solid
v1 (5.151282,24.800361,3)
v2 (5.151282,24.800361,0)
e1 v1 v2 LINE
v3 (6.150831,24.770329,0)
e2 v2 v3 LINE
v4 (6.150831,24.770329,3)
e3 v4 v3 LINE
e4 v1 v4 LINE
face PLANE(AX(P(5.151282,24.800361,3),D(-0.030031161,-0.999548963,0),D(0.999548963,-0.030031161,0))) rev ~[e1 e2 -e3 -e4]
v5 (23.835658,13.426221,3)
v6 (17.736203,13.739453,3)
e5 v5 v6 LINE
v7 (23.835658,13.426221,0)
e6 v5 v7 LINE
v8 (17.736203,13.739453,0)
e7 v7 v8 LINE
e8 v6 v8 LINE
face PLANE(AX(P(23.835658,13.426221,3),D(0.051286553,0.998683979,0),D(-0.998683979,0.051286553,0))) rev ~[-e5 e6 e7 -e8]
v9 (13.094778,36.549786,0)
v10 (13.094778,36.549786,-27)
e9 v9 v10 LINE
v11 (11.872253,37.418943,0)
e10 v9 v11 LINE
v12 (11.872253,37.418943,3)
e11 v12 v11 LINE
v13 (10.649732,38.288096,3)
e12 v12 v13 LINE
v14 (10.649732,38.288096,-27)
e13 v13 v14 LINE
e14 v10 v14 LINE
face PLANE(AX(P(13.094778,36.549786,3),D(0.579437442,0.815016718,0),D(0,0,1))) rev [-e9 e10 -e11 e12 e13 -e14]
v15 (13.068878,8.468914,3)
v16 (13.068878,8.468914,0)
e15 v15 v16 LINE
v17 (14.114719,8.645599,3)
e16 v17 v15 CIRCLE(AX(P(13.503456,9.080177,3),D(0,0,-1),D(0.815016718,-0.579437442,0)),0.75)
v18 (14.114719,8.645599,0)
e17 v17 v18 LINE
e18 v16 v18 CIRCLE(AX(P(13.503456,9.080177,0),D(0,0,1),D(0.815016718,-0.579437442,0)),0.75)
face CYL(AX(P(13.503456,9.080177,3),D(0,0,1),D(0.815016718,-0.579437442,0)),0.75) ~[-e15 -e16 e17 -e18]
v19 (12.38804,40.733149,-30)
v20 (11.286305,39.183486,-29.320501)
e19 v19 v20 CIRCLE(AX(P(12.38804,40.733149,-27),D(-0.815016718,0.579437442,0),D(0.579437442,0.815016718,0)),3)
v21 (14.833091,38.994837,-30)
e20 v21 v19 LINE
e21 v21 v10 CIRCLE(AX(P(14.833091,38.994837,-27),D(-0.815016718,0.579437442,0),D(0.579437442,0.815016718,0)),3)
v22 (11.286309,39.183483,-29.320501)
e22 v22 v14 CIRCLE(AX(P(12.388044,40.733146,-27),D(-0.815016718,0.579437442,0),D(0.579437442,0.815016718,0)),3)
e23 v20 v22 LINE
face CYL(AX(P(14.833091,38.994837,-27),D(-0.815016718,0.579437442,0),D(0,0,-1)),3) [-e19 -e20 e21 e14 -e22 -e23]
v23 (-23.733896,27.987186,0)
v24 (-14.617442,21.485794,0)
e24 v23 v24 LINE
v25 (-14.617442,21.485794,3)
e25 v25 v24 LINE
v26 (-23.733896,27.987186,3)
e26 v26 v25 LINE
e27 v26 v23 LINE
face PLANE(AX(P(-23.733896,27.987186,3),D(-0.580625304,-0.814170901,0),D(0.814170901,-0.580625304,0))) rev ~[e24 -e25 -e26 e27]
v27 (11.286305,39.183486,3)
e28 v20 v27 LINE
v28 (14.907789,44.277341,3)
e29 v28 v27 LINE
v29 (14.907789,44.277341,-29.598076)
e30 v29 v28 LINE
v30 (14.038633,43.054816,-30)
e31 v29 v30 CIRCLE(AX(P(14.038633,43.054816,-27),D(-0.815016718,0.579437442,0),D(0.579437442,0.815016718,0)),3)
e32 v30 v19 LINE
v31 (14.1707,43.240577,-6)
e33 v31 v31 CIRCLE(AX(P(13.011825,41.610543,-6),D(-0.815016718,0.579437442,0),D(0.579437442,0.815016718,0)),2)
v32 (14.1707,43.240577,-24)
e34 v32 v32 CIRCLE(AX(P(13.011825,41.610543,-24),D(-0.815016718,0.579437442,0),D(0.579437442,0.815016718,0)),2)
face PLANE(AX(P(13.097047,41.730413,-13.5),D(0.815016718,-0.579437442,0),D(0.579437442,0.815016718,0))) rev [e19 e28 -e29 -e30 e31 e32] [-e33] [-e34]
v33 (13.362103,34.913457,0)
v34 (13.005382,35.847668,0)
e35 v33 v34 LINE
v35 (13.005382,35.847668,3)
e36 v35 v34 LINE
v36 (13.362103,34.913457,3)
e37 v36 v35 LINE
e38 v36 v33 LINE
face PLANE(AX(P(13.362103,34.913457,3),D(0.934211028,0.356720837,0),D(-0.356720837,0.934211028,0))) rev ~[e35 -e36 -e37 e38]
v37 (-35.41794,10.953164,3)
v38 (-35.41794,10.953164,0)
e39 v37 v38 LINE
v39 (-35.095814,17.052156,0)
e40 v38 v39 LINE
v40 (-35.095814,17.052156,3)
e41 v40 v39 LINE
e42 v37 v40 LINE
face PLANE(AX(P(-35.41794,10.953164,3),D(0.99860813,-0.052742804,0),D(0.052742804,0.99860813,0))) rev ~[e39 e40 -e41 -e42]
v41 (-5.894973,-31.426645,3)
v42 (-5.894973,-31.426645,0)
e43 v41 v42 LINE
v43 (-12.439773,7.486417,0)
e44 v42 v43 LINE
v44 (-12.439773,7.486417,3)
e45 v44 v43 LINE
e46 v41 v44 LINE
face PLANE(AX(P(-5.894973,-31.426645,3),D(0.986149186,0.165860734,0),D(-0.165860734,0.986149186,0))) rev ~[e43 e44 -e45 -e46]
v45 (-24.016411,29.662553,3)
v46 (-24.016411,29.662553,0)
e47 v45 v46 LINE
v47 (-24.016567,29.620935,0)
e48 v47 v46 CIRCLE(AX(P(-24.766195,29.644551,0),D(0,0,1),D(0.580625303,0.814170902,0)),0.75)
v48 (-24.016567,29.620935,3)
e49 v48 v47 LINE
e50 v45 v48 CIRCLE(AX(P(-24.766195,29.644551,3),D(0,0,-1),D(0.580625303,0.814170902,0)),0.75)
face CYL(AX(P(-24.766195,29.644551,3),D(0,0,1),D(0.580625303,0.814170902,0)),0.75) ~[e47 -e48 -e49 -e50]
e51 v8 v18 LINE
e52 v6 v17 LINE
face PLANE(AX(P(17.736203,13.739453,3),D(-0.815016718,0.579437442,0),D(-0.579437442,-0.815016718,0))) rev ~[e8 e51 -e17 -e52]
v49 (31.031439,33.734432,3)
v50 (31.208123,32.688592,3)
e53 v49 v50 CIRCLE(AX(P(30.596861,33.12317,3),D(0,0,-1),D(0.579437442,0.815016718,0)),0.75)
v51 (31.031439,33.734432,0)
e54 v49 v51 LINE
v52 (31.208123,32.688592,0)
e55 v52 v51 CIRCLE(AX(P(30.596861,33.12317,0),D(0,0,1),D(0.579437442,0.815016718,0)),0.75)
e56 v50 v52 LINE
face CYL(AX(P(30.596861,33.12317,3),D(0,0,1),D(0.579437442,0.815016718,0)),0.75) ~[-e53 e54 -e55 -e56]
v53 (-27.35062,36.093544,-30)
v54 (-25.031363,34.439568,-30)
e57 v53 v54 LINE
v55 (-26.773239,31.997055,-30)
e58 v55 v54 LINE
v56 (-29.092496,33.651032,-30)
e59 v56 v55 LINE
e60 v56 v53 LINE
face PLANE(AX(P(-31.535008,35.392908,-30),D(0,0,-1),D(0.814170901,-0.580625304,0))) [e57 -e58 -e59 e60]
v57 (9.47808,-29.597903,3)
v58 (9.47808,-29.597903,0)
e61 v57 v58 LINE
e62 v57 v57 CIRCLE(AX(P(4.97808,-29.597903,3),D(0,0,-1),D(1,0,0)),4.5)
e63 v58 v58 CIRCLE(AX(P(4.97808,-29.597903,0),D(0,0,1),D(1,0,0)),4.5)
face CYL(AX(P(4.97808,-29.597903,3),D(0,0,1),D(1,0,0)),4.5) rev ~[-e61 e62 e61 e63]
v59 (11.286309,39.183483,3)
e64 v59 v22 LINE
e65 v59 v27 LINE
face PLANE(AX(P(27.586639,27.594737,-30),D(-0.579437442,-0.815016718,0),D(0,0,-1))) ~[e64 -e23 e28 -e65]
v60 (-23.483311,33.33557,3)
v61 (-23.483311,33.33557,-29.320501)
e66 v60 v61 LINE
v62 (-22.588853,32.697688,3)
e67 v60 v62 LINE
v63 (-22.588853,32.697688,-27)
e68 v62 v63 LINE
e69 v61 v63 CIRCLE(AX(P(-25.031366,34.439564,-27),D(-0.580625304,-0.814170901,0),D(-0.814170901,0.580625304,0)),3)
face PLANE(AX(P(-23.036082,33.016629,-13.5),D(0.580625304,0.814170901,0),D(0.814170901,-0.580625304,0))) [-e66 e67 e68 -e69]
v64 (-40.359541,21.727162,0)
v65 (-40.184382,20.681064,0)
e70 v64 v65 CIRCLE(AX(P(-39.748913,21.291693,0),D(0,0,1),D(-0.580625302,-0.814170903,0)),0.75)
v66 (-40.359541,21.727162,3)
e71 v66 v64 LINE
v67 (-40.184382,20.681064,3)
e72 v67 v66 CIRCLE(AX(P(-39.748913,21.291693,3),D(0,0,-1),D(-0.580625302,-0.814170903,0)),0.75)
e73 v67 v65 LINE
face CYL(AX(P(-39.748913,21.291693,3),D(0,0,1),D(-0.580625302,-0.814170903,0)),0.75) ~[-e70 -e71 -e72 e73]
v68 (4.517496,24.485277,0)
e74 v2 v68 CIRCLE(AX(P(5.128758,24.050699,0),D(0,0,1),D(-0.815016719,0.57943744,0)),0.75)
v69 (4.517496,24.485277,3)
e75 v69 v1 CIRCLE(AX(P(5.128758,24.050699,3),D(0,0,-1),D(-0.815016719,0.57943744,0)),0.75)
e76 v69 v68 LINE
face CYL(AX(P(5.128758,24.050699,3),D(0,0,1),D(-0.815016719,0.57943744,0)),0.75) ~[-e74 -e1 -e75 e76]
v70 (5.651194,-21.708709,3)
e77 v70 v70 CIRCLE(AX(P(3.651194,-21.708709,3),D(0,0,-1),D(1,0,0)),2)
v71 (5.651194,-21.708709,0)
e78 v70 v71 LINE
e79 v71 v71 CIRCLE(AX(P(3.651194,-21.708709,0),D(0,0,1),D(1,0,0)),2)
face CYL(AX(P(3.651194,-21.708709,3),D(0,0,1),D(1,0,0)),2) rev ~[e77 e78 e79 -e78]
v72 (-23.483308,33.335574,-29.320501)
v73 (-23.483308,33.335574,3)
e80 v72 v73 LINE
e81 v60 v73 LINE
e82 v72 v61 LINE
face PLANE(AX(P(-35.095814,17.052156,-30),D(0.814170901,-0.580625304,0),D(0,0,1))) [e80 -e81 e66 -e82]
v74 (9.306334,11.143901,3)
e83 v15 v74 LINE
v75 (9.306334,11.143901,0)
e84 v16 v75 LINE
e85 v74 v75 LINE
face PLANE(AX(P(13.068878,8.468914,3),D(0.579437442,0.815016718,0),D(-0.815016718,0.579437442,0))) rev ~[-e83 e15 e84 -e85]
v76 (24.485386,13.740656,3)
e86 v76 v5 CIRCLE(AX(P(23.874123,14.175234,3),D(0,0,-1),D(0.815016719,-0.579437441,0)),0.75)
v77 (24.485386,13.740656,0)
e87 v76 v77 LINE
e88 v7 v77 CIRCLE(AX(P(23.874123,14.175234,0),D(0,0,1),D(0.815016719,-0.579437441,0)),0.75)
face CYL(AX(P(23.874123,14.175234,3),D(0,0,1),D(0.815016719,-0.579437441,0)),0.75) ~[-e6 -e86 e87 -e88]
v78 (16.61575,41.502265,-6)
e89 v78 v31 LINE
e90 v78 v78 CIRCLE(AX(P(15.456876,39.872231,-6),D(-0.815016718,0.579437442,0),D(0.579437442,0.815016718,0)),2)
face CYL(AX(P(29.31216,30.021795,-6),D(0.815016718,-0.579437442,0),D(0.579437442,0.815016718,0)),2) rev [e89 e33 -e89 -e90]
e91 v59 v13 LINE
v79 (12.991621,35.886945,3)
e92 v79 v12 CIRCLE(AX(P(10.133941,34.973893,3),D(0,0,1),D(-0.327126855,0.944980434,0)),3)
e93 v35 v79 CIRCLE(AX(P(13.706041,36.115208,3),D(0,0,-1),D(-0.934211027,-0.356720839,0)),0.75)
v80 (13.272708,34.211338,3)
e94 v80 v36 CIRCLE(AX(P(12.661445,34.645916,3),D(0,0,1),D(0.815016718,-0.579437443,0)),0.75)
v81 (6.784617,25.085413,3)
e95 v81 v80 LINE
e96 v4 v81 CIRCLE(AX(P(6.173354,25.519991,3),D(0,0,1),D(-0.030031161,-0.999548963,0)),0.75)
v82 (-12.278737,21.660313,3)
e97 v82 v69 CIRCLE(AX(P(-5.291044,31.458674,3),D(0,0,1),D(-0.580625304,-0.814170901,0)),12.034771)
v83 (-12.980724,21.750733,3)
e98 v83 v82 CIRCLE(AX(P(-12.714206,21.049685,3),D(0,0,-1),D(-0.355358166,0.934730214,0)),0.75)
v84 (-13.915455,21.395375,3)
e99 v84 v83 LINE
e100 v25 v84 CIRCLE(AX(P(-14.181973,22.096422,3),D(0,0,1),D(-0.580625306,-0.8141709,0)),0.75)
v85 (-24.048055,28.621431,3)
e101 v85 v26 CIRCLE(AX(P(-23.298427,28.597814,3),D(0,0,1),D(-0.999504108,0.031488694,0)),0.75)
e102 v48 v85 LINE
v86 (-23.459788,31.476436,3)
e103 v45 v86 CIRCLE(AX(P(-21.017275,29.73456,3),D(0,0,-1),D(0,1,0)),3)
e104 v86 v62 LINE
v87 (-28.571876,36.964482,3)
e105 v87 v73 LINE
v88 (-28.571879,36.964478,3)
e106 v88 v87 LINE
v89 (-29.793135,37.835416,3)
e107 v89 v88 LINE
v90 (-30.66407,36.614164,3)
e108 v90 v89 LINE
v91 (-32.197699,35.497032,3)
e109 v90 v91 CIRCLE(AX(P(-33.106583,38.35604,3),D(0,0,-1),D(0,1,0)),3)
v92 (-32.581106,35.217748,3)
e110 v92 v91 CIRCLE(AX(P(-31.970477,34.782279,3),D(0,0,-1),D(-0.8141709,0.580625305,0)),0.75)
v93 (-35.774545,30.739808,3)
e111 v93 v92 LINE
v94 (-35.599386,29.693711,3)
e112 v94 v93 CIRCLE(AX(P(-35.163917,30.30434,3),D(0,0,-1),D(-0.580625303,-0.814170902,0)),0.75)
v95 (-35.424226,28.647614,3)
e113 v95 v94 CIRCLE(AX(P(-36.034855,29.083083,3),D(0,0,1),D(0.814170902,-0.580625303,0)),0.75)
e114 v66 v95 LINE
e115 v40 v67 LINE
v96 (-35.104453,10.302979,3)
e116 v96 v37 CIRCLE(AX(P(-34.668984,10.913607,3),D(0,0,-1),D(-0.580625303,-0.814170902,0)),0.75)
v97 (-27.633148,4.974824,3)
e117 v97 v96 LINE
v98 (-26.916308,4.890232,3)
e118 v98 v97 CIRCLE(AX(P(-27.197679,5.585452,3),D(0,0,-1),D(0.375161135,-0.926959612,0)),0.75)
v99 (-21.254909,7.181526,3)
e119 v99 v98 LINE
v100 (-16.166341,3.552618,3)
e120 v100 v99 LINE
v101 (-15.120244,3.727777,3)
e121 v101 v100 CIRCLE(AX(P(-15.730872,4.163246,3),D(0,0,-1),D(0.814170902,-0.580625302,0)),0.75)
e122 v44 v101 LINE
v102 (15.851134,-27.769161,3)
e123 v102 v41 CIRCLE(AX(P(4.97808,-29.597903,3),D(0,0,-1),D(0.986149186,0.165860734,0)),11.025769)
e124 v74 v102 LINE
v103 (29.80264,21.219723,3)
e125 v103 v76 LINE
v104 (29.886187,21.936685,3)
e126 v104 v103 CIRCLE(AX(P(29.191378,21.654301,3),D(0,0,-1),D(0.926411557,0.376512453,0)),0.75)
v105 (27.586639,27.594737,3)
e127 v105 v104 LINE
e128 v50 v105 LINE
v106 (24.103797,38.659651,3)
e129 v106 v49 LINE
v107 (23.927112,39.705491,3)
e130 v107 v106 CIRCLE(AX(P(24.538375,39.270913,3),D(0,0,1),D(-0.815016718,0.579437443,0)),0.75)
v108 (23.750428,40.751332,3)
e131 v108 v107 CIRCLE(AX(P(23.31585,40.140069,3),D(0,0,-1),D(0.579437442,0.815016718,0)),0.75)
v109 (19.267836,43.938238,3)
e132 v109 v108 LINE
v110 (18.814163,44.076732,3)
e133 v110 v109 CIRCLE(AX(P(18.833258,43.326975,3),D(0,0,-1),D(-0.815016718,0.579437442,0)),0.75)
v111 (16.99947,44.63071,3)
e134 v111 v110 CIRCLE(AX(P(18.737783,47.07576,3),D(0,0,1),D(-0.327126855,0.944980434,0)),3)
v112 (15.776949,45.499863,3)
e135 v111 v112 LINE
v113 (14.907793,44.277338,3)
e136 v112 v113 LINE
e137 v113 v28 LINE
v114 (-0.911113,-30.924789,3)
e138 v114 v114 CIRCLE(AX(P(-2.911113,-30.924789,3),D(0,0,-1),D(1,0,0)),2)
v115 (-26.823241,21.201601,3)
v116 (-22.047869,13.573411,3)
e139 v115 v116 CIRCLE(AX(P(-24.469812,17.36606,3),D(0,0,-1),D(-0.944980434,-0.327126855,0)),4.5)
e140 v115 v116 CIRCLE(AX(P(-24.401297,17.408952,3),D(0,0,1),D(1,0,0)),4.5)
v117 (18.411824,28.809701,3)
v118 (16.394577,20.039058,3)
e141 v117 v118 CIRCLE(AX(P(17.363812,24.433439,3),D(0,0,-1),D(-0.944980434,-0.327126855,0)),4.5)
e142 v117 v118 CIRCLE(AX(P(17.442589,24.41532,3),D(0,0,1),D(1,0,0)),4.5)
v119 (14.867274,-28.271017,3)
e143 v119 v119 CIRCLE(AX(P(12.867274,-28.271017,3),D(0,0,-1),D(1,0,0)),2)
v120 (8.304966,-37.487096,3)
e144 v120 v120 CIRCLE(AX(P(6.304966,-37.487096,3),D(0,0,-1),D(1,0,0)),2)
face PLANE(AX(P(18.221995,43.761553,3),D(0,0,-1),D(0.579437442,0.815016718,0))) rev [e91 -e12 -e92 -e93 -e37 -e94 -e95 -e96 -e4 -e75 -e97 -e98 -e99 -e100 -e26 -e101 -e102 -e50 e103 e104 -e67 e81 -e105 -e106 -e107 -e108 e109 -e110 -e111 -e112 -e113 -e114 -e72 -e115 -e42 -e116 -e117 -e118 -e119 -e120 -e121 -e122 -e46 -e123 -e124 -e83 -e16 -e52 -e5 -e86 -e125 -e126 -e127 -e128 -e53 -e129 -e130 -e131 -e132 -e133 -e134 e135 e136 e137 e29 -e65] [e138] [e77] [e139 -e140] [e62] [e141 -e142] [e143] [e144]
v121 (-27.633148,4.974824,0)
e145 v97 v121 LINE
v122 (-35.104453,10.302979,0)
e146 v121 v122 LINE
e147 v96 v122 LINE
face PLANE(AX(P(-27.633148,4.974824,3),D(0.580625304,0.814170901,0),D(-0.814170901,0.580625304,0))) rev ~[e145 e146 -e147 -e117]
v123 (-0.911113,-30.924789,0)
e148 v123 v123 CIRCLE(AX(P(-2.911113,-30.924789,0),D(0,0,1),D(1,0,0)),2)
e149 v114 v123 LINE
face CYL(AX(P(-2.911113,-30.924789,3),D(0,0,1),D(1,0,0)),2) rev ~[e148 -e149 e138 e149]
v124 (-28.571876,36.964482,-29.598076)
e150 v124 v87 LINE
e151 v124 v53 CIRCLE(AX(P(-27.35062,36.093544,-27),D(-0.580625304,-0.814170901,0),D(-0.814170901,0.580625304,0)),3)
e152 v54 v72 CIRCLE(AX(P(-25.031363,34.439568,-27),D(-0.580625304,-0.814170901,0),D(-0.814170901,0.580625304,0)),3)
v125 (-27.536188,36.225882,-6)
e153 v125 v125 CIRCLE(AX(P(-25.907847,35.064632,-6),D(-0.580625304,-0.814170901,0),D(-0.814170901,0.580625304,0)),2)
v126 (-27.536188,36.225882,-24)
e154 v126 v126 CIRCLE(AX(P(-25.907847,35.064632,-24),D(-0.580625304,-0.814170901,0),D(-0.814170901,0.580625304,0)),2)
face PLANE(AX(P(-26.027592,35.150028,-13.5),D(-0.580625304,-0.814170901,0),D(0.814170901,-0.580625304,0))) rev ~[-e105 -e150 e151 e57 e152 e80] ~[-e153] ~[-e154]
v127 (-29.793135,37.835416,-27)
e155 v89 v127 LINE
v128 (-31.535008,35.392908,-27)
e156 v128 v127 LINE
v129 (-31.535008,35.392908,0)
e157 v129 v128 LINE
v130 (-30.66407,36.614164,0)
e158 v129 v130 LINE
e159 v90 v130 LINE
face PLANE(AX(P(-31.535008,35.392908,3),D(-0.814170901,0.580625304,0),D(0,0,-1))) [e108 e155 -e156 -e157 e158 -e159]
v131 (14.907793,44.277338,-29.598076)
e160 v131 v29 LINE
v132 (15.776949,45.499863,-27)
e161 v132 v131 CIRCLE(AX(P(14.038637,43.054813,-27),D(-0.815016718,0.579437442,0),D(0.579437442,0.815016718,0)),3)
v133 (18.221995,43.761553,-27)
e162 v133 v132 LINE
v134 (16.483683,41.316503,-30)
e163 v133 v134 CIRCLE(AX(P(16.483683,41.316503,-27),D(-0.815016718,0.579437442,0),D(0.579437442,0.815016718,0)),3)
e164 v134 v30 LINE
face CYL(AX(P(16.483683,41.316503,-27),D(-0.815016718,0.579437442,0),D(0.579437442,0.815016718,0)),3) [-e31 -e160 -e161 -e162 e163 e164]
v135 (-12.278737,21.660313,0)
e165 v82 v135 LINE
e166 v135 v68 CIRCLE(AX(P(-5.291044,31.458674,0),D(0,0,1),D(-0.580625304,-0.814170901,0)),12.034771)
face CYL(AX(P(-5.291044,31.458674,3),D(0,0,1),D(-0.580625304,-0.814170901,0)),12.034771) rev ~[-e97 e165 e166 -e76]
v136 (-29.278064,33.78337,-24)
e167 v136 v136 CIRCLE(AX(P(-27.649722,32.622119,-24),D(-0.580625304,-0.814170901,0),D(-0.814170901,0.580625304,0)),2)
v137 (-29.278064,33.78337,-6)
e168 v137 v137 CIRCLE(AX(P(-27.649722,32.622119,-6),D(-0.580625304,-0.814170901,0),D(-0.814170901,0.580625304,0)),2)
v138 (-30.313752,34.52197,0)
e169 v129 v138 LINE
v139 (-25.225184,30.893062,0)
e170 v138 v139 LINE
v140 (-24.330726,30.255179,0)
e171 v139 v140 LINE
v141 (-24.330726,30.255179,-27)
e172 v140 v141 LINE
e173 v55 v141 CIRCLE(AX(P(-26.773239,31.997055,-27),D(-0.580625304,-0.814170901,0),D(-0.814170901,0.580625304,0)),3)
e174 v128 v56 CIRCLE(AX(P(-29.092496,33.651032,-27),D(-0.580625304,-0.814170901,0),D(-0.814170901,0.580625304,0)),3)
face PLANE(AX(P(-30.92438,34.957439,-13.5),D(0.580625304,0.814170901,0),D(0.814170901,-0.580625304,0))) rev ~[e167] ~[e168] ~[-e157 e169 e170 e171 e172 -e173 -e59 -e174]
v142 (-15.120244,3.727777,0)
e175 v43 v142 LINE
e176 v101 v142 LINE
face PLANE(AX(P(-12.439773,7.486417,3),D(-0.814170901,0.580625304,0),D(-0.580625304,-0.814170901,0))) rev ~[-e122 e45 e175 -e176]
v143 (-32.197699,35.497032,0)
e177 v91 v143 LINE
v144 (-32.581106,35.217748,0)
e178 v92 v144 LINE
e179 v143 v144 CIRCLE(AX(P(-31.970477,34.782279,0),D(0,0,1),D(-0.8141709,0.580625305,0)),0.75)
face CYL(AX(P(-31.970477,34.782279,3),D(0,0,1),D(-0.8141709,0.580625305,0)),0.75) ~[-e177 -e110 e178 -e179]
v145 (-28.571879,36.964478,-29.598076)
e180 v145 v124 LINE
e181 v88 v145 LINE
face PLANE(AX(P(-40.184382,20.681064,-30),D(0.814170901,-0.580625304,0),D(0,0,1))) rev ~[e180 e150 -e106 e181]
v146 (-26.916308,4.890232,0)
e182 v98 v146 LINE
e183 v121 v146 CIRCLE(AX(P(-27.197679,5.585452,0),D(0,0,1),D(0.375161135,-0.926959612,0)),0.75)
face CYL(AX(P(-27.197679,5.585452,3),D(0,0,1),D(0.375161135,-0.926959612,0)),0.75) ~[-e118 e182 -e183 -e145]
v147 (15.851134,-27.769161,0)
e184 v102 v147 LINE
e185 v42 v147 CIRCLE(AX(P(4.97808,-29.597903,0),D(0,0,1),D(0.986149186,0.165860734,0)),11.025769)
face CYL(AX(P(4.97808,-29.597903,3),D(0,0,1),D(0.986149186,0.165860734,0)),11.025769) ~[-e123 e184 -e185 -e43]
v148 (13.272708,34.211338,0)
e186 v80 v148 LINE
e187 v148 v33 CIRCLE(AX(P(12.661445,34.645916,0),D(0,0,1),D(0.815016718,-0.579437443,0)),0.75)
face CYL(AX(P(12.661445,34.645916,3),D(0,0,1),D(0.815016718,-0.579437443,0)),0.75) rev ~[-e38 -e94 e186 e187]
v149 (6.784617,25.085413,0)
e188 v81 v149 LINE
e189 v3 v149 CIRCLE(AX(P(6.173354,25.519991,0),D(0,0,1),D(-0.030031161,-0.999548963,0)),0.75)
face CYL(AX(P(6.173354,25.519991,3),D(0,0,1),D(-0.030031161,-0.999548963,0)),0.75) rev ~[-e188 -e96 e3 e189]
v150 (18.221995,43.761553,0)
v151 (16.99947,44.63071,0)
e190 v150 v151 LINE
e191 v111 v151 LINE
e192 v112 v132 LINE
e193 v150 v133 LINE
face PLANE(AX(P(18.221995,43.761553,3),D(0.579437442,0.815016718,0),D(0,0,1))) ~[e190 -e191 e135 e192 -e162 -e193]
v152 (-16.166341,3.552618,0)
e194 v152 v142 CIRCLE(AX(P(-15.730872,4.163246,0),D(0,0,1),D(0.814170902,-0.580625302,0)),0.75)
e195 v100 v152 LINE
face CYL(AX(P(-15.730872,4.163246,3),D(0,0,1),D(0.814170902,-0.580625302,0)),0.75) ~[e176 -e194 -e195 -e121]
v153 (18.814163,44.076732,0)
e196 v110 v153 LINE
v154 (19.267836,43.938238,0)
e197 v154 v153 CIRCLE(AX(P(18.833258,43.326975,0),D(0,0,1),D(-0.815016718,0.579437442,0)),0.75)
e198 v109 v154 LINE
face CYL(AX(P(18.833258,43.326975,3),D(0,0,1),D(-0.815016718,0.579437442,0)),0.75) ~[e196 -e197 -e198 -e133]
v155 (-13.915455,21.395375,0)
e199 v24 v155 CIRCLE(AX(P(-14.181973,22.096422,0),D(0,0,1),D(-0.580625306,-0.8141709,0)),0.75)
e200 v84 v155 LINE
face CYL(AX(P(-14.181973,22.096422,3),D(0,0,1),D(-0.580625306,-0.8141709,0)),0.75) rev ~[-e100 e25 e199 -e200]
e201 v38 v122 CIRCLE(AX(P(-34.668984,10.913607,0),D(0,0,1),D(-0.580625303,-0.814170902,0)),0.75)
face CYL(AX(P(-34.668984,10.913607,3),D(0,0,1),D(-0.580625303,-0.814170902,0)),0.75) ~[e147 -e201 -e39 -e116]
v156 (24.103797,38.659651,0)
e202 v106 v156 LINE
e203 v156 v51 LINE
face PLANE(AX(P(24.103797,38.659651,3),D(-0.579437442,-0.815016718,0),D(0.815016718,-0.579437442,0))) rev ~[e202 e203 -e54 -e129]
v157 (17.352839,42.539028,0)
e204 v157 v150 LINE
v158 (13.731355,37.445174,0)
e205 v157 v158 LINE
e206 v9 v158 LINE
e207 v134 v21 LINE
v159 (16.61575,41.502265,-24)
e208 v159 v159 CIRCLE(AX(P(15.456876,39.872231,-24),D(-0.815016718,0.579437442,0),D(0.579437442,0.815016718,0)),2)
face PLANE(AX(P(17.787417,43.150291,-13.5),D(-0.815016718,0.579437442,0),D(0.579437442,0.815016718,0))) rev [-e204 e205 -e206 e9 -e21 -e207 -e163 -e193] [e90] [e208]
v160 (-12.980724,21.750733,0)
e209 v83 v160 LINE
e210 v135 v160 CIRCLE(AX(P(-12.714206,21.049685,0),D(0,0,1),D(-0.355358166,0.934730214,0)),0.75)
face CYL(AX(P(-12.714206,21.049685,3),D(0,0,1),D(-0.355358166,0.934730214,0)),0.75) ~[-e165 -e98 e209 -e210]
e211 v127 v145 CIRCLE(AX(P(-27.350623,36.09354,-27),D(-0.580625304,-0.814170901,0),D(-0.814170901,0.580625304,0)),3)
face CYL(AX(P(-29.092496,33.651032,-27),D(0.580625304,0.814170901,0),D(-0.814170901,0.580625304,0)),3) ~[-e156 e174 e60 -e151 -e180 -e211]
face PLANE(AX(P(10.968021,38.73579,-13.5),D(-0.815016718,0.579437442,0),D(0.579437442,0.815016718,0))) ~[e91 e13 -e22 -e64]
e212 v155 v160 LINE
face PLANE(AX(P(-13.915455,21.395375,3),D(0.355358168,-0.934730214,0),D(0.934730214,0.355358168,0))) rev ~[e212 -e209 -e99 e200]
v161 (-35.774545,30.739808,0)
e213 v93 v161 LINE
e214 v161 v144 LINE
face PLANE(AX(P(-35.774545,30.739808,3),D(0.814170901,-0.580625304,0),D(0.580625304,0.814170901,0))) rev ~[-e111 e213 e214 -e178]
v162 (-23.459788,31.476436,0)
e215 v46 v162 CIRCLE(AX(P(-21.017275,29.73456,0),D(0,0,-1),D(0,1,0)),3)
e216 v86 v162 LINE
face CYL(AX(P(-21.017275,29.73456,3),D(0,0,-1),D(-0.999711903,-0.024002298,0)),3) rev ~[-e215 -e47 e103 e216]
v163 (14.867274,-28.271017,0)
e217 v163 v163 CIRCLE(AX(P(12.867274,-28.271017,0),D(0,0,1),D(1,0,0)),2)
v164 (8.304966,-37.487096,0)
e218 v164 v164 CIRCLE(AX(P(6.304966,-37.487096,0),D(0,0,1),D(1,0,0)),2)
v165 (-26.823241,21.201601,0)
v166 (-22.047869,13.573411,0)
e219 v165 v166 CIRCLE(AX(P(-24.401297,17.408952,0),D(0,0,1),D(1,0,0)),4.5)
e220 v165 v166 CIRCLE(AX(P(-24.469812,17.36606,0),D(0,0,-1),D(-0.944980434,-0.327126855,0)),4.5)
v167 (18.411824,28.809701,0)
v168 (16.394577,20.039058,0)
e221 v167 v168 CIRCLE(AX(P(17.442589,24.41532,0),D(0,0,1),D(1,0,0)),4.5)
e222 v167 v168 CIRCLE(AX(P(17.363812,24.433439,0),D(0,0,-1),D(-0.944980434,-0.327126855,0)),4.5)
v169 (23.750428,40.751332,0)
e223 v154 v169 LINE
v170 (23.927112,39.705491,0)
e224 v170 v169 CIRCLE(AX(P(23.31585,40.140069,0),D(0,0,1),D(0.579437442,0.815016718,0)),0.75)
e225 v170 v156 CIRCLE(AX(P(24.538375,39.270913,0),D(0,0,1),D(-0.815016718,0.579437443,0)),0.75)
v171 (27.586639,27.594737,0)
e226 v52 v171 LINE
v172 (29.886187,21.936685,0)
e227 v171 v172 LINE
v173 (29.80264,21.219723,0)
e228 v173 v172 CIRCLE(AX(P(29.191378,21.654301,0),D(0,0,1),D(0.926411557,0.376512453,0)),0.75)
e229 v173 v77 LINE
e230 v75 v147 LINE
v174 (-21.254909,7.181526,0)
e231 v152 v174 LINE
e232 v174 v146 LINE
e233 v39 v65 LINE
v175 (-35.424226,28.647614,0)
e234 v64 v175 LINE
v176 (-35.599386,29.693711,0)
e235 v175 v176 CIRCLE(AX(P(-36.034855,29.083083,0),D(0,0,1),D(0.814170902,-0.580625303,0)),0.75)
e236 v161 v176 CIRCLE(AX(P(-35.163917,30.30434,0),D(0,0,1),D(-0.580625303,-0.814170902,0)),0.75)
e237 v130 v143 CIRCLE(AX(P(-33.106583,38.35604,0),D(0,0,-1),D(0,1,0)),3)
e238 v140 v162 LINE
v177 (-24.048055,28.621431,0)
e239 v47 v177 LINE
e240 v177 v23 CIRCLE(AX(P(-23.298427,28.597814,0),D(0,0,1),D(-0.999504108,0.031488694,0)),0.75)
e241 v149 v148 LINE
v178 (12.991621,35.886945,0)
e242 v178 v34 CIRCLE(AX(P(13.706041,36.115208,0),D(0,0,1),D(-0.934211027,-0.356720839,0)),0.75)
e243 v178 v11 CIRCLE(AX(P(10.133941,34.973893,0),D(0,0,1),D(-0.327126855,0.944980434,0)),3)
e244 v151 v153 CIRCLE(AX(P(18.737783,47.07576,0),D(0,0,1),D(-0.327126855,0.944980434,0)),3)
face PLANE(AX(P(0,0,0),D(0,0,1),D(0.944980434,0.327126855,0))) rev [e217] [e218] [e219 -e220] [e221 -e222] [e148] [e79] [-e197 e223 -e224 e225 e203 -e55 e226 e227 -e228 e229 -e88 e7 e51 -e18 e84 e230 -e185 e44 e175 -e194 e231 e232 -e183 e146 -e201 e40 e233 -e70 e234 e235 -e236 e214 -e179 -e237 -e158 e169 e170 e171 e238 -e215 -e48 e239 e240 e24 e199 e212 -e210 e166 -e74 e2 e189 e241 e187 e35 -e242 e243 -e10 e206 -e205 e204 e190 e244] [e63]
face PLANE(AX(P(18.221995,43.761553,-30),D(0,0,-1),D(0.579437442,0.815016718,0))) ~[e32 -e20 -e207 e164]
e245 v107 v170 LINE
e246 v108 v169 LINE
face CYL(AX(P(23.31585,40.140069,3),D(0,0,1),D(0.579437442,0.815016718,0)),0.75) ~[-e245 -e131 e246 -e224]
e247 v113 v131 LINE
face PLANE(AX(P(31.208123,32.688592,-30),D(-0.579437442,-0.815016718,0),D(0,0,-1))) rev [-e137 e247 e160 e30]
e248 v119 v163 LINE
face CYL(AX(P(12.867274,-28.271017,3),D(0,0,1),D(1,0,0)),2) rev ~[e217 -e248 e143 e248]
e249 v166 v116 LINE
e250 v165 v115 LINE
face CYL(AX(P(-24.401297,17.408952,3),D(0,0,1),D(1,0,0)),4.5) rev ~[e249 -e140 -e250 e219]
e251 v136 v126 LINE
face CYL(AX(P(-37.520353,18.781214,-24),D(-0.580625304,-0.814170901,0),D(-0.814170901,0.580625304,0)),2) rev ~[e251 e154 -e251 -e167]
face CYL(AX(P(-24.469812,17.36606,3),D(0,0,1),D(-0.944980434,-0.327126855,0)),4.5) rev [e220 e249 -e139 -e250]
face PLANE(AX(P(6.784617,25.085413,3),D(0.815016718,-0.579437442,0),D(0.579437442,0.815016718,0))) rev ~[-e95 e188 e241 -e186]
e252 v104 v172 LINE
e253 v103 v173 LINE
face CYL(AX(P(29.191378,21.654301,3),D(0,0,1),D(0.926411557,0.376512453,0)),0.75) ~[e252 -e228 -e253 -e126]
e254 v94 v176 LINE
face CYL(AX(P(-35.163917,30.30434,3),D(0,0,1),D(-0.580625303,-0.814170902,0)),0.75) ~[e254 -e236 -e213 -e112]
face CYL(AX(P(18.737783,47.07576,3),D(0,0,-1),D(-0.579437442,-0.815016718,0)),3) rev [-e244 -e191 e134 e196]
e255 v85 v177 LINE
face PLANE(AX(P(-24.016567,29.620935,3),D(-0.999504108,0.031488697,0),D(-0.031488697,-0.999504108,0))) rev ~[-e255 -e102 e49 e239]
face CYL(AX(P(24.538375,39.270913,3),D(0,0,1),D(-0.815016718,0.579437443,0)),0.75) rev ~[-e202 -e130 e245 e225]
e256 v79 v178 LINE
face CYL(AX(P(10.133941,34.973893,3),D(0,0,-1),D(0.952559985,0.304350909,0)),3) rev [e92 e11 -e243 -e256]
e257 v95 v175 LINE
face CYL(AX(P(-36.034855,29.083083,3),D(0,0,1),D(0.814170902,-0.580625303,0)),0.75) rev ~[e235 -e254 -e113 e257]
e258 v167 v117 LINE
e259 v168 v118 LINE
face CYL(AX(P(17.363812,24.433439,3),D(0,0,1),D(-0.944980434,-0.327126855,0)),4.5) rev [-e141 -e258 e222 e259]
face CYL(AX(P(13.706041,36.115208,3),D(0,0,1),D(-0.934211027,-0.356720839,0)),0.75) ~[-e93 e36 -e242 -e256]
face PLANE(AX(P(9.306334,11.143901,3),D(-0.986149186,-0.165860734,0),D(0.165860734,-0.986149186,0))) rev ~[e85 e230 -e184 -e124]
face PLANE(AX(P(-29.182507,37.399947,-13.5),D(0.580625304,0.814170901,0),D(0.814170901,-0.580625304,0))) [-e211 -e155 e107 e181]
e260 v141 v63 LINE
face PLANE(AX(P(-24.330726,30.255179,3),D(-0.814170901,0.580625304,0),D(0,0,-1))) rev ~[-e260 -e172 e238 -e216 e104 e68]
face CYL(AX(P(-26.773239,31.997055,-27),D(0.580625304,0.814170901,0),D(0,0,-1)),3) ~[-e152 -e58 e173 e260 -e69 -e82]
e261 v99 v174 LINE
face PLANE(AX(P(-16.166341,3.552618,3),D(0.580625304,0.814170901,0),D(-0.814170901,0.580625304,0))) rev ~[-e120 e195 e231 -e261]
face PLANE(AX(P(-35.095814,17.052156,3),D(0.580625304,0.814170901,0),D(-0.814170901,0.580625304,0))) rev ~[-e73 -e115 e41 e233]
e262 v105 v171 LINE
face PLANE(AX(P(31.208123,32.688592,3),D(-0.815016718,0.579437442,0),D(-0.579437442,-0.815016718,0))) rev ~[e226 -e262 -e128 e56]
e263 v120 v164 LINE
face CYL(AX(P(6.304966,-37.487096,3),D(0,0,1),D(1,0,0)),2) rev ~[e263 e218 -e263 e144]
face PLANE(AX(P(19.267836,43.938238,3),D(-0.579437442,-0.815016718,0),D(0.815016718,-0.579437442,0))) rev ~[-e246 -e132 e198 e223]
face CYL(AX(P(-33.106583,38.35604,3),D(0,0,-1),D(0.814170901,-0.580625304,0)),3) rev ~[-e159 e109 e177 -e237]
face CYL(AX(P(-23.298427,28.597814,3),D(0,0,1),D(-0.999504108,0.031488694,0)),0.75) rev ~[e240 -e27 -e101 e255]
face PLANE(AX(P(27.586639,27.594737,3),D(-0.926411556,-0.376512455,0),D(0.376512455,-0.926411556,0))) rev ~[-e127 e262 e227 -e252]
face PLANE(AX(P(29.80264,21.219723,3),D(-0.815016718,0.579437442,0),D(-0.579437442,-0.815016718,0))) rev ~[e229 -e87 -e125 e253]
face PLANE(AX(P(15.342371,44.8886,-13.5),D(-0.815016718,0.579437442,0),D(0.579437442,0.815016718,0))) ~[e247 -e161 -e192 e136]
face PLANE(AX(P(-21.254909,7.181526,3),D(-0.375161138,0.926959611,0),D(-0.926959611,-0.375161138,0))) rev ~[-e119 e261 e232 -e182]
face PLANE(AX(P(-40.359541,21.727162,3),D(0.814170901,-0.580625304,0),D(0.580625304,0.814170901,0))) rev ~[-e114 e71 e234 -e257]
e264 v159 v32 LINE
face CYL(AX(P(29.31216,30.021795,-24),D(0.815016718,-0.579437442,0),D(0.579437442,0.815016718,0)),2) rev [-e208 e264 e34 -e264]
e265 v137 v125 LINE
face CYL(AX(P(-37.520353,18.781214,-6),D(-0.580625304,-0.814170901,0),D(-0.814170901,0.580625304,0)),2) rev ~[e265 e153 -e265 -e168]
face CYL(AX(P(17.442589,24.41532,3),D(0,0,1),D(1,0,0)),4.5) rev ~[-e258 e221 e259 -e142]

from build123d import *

# Parameters (mm, degrees)
SKETCH_2_R          = 73.899050909
EXTRUDE_2_DEPTH     = 3
SKETCH_6_OUTSIDE_W  = 191.606
SKETCH_6_OUTSIDE_H  = 191.606
CUT_EXTRUDE_4_DEPTH = 10
SKETCH_7_R          = 4.5
SKETCH_7_R_2        = 2
CUT_EXTRUDE_5_DEPTH = 10
SKETCH_8_R          = 4.5
CUT_EXTRUDE_6_DEPTH = 10
SKETCH_9_W          = 6.25
SKETCH_9_H          = 33
SKETCH_9_R          = 2
EXTRUDE_3_DEPTH     = 20
SKETCH_10_W         = 6.25
SKETCH_10_H         = 30
CUT_EXTRUDE_7_DEPTH = 17
SKETCH_11_W         = 1.5
SKETCH_11_H         = 33
SKETCH_11_W_2       = 1.098612182
EXTRUDE_4_DEPTH     = 2.999995
FILLET_1_R          = 3


with BuildPart() as part:
    # 草图2 → 凸台-拉伸2 (new body)
    with BuildSketch(Plane.XY):
        Circle(SKETCH_2_R)
    extrude(amount=EXTRUDE_2_DEPTH)

    # 草图6 outside → 切除-拉伸4 (cut)
    with BuildSketch(Plane.XY.offset(3)):
        Rectangle(SKETCH_6_OUTSIDE_W, SKETCH_6_OUTSIDE_H)
        with BuildLine():
            Line((-31.535008434, 35.392907634), (-24.330725879, 30.255179498))
            ThreePointArc((-24.330725879, 30.255179498), (-24.094123176, 29.977447186), (-24.016566775, 29.6209348))
            Line((-24.016566775, 29.6209348), (-24.048055472, 28.621430692))
            ThreePointArc((-24.048055472, 28.621430692), (-23.970499071, 28.264918306), (-23.733896368, 27.987185994))
            Line((-23.733896368, 27.987185994), (-14.617442117, 21.485794197))
            ThreePointArc((-14.617442117, 21.485794197), (-14.277785331, 21.352567532), (-13.915454513, 21.395374713))
            Line((-13.915454513, 21.395374713), (-12.980724299, 21.750732881))
            ThreePointArc((-12.980724299, 21.750732881), (-12.618393481, 21.793540061), (-12.278736695, 21.660313397))
            ThreePointArc((-12.278736695, 21.660313397), (-3.294948021, 19.590594088), (4.517495731, 24.485276874))
            ThreePointArc((4.517495731, 24.485276874), (4.794882728, 24.722284322), (5.15128164, 24.800360515))
            Line((5.15128164, 24.800360515), (6.150830603, 24.770329354))
            ThreePointArc((6.150830603, 24.770329354), (6.507229515, 24.848405547), (6.784616512, 25.085412994))
            Line((6.784616512, 25.085412994), (13.272707556, 34.211338045))
            ThreePointArc((13.272707556, 34.211338045), (13.405438783, 34.551188744), (13.362103288, 34.913456755))
            Line((13.362103288, 34.913456755), (13.005382451, 35.847667782))
            ThreePointArc((13.005382451, 35.847667782), (12.962046956, 36.209935793), (13.094778183, 36.549786492))
            Line((13.094778183, 36.549786492), (18.221995392, 43.761553351))
            ThreePointArc((18.221995392, 43.761553351), (18.708323153, 44.066496264), (19.267836012, 43.938237808))
            Line((19.267836012, 43.938237808), (23.750427961, 40.751331876))
            ThreePointArc((23.750427961, 40.751331876), (24.055370874, 40.265004115), (23.927112418, 39.705491256))
            ThreePointArc((23.927112418, 39.705491256), (23.798853962, 39.145978396), (24.103796875, 38.659650636))
            Line((24.103796875, 38.659650636), (31.031438978, 33.734432377))
            ThreePointArc((31.031438978, 33.734432377), (31.336381891, 33.248104616), (31.208123435, 32.688591757))
            Line((31.208123435, 32.688591757), (27.586639421, 27.59473727))
            Line((27.586639421, 27.59473727), (29.886186599, 21.936685188))
            ThreePointArc((29.886186599, 21.936685188), (29.936337177, 21.567492307), (29.80264047, 21.219722765))
            Line((29.80264047, 21.219722765), (24.485385754, 13.740655704))
            ThreePointArc((24.485385754, 13.740655704), (24.200836556, 13.500134983), (23.835658301, 13.426220802))
            Line((23.835658301, 13.426220802), (17.736202905, 13.739453063))
            Line((17.736202905, 13.739453063), (14.114718892, 8.645598576))
            ThreePointArc((14.114718892, 8.645598576), (13.628391131, 8.340655663), (13.068878271, 8.468914119))
            Line((13.068878271, 8.468914119), (9.306333892, 11.143901076))
            Line((9.306333892, 11.143901076), (15.851133659, -27.769160612))
            ThreePointArc((15.851133659, -27.769160612), (6.806822505, -40.470956104), (-5.894972987, -31.42664495))
            Line((-5.894972987, -31.42664495), (-12.439772753, 7.486416738))
            Line((-12.439772753, 7.486416738), (-15.120243503, 3.727777092))
            ThreePointArc((-15.120243503, 3.727777092), (-15.607015422, 3.423543678), (-16.166340657, 3.552617894))
            Line((-16.166340657, 3.552617894), (-21.25490879, 7.181526042))
            Line((-21.25490879, 7.181526042), (-26.916308113, 4.890232022))
            ThreePointArc((-26.916308113, 4.890232022), (-27.285573732, 4.840619864), (-27.633147944, 4.974823555))
            Line((-27.633147944, 4.974823555), (-35.1044533, 10.30297878))
            ThreePointArc((-35.1044533, 10.30297878), (-35.344558829, 10.587878409), (-35.41794042, 10.953164059))
            Line((-35.41794042, 10.953164059), (-35.095814113, 17.052156207))
            Line((-35.095814113, 17.052156207), (-40.184382246, 20.681064356))
            ThreePointArc((-40.184382246, 20.681064356), (-40.48861566, 21.167836275), (-40.359541444, 21.727161509))
            Line((-40.359541444, 21.727161509), (-35.424226362, 28.647614171))
            ThreePointArc((-35.424226362, 28.647614171), (-35.295152147, 29.206939406), (-35.59938556, 29.693711325))
            ThreePointArc((-35.59938556, 29.693711325), (-35.903618974, 30.180483244), (-35.774544759, 30.739808479))
            Line((-35.774544759, 30.739808479), (-32.581105588, 35.217748436))
            ThreePointArc((-32.581105588, 35.217748436), (-32.094333668, 35.521981849), (-31.535008434, 35.392907634))
        make_face(mode=Mode.SUBTRACT)
    extrude(amount=-CUT_EXTRUDE_4_DEPTH, mode=Mode.SUBTRACT)

    # 草图7 → 切除-拉伸5 (cut)
    with BuildSketch(Plane.XY.offset(3)):
        with Locations((4.978080336, -29.597902781)):
            Circle(SKETCH_7_R)
        with Locations((3.651194467, -21.708709293)):
            Circle(SKETCH_7_R_2)
        with Locations((12.867273824, -28.271016911)):
            Circle(SKETCH_7_R_2)
        with Locations((6.304966206, -37.487096269)):
            Circle(SKETCH_7_R_2)
        with Locations((-2.911113152, -30.924788651)):
            Circle(SKETCH_7_R_2)
    extrude(amount=-CUT_EXTRUDE_5_DEPTH, mode=Mode.SUBTRACT)

    # 草图8 → 切除-拉伸6 (cut)
    with BuildSketch(Plane.XY.offset(3)):
        with Locations((-24.401296977, 17.408951983)):
            Circle(SKETCH_8_R)
        with Locations((17.442589177, 24.41531991)):
            Circle(SKETCH_8_R)
    extrude(amount=-CUT_EXTRUDE_6_DEPTH, mode=Mode.SUBTRACT)

    # 镜向3: part across plane


with BuildPart() as part_1:
    add(part.part)
    add(part.part.mirror(Plane(origin=(0, 0, 0), x_dir=(0, 0, 1), z_dir=(-0.9861491859840638, -0.16586073369839163, 0))))

    # 草图9 → 凸台-拉伸3 (add)
    with BuildSketch(Plane(origin=(-3.770666854, -5.287346609, 0), x_dir=(0.814170901346189, -0.5806253037899178, 0), z_dir=(-0.5806253037899178, -0.814170901346189, 0))):
        with Locations((-41.599903988, -13.5)):
            Rectangle(SKETCH_9_W, SKETCH_9_H)
        with Locations(Location((-41.452827346, -24, 0), (0, 0, 180))):
            Circle(SKETCH_9_R, mode=Mode.SUBTRACT)
        with Locations(Location((-41.452827346, -6, 0), (0, 0, 180))):
            Circle(SKETCH_9_R, mode=Mode.SUBTRACT)
    extrude(amount=-EXTRUDE_3_DEPTH)

    # 草图10 → 切除-拉伸7 (cut)
    with BuildSketch(Plane(origin=(-3.770666854, -5.287346609, 0), x_dir=(0.8141709013461893, -0.5806253037899172, 0), z_dir=(-0.5806253037899172, -0.8141709013461893, 0))):
        with Locations((-41.599903988, -15)):
            Rectangle(SKETCH_10_W, SKETCH_10_H)
    extrude(amount=-CUT_EXTRUDE_7_DEPTH, mode=Mode.SUBTRACT)

    # 草图11 → 凸台-拉伸4 (add)
    with BuildSketch(Plane(origin=(6.09996331, 8.553558714, 0), x_dir=(0.8141709013461892, -0.5806253037899176, 0), z_dir=(0.5806253037899175, 0.8141709013461891, 0))):
        with Locations((-45.474903988, 13.5)):
            Rectangle(SKETCH_11_W, SKETCH_11_H)
        with Locations((-37.925597897, 13.5)):
            Rectangle(SKETCH_11_W_2, SKETCH_11_H)
    extrude(amount=EXTRUDE_4_DEPTH)

    # 圆角1
    fillet_1_edges = [part_1.edges().sort_by_distance(p)[0] for p in [
        (-31.535008434, 35.392907634, 1.5),
        (-24.330725879, 30.255179498, 1.5),
        (-23.459789375, 31.476433815, -30),
        (-30.66407193, 36.614161951, -30),
    ]]
    fillet(fillet_1_edges, radius=FILLET_1_R)

    # 镜向4: part across plane


with BuildPart() as part_2:
    add(part_1.part)
    add(part_1.part.mirror(Plane(origin=(0, 0, 0), x_dir=(0, 0, 1), z_dir=(-0.9861491859840638, -0.16586073369839163, 0))))


solid = part_2.part
